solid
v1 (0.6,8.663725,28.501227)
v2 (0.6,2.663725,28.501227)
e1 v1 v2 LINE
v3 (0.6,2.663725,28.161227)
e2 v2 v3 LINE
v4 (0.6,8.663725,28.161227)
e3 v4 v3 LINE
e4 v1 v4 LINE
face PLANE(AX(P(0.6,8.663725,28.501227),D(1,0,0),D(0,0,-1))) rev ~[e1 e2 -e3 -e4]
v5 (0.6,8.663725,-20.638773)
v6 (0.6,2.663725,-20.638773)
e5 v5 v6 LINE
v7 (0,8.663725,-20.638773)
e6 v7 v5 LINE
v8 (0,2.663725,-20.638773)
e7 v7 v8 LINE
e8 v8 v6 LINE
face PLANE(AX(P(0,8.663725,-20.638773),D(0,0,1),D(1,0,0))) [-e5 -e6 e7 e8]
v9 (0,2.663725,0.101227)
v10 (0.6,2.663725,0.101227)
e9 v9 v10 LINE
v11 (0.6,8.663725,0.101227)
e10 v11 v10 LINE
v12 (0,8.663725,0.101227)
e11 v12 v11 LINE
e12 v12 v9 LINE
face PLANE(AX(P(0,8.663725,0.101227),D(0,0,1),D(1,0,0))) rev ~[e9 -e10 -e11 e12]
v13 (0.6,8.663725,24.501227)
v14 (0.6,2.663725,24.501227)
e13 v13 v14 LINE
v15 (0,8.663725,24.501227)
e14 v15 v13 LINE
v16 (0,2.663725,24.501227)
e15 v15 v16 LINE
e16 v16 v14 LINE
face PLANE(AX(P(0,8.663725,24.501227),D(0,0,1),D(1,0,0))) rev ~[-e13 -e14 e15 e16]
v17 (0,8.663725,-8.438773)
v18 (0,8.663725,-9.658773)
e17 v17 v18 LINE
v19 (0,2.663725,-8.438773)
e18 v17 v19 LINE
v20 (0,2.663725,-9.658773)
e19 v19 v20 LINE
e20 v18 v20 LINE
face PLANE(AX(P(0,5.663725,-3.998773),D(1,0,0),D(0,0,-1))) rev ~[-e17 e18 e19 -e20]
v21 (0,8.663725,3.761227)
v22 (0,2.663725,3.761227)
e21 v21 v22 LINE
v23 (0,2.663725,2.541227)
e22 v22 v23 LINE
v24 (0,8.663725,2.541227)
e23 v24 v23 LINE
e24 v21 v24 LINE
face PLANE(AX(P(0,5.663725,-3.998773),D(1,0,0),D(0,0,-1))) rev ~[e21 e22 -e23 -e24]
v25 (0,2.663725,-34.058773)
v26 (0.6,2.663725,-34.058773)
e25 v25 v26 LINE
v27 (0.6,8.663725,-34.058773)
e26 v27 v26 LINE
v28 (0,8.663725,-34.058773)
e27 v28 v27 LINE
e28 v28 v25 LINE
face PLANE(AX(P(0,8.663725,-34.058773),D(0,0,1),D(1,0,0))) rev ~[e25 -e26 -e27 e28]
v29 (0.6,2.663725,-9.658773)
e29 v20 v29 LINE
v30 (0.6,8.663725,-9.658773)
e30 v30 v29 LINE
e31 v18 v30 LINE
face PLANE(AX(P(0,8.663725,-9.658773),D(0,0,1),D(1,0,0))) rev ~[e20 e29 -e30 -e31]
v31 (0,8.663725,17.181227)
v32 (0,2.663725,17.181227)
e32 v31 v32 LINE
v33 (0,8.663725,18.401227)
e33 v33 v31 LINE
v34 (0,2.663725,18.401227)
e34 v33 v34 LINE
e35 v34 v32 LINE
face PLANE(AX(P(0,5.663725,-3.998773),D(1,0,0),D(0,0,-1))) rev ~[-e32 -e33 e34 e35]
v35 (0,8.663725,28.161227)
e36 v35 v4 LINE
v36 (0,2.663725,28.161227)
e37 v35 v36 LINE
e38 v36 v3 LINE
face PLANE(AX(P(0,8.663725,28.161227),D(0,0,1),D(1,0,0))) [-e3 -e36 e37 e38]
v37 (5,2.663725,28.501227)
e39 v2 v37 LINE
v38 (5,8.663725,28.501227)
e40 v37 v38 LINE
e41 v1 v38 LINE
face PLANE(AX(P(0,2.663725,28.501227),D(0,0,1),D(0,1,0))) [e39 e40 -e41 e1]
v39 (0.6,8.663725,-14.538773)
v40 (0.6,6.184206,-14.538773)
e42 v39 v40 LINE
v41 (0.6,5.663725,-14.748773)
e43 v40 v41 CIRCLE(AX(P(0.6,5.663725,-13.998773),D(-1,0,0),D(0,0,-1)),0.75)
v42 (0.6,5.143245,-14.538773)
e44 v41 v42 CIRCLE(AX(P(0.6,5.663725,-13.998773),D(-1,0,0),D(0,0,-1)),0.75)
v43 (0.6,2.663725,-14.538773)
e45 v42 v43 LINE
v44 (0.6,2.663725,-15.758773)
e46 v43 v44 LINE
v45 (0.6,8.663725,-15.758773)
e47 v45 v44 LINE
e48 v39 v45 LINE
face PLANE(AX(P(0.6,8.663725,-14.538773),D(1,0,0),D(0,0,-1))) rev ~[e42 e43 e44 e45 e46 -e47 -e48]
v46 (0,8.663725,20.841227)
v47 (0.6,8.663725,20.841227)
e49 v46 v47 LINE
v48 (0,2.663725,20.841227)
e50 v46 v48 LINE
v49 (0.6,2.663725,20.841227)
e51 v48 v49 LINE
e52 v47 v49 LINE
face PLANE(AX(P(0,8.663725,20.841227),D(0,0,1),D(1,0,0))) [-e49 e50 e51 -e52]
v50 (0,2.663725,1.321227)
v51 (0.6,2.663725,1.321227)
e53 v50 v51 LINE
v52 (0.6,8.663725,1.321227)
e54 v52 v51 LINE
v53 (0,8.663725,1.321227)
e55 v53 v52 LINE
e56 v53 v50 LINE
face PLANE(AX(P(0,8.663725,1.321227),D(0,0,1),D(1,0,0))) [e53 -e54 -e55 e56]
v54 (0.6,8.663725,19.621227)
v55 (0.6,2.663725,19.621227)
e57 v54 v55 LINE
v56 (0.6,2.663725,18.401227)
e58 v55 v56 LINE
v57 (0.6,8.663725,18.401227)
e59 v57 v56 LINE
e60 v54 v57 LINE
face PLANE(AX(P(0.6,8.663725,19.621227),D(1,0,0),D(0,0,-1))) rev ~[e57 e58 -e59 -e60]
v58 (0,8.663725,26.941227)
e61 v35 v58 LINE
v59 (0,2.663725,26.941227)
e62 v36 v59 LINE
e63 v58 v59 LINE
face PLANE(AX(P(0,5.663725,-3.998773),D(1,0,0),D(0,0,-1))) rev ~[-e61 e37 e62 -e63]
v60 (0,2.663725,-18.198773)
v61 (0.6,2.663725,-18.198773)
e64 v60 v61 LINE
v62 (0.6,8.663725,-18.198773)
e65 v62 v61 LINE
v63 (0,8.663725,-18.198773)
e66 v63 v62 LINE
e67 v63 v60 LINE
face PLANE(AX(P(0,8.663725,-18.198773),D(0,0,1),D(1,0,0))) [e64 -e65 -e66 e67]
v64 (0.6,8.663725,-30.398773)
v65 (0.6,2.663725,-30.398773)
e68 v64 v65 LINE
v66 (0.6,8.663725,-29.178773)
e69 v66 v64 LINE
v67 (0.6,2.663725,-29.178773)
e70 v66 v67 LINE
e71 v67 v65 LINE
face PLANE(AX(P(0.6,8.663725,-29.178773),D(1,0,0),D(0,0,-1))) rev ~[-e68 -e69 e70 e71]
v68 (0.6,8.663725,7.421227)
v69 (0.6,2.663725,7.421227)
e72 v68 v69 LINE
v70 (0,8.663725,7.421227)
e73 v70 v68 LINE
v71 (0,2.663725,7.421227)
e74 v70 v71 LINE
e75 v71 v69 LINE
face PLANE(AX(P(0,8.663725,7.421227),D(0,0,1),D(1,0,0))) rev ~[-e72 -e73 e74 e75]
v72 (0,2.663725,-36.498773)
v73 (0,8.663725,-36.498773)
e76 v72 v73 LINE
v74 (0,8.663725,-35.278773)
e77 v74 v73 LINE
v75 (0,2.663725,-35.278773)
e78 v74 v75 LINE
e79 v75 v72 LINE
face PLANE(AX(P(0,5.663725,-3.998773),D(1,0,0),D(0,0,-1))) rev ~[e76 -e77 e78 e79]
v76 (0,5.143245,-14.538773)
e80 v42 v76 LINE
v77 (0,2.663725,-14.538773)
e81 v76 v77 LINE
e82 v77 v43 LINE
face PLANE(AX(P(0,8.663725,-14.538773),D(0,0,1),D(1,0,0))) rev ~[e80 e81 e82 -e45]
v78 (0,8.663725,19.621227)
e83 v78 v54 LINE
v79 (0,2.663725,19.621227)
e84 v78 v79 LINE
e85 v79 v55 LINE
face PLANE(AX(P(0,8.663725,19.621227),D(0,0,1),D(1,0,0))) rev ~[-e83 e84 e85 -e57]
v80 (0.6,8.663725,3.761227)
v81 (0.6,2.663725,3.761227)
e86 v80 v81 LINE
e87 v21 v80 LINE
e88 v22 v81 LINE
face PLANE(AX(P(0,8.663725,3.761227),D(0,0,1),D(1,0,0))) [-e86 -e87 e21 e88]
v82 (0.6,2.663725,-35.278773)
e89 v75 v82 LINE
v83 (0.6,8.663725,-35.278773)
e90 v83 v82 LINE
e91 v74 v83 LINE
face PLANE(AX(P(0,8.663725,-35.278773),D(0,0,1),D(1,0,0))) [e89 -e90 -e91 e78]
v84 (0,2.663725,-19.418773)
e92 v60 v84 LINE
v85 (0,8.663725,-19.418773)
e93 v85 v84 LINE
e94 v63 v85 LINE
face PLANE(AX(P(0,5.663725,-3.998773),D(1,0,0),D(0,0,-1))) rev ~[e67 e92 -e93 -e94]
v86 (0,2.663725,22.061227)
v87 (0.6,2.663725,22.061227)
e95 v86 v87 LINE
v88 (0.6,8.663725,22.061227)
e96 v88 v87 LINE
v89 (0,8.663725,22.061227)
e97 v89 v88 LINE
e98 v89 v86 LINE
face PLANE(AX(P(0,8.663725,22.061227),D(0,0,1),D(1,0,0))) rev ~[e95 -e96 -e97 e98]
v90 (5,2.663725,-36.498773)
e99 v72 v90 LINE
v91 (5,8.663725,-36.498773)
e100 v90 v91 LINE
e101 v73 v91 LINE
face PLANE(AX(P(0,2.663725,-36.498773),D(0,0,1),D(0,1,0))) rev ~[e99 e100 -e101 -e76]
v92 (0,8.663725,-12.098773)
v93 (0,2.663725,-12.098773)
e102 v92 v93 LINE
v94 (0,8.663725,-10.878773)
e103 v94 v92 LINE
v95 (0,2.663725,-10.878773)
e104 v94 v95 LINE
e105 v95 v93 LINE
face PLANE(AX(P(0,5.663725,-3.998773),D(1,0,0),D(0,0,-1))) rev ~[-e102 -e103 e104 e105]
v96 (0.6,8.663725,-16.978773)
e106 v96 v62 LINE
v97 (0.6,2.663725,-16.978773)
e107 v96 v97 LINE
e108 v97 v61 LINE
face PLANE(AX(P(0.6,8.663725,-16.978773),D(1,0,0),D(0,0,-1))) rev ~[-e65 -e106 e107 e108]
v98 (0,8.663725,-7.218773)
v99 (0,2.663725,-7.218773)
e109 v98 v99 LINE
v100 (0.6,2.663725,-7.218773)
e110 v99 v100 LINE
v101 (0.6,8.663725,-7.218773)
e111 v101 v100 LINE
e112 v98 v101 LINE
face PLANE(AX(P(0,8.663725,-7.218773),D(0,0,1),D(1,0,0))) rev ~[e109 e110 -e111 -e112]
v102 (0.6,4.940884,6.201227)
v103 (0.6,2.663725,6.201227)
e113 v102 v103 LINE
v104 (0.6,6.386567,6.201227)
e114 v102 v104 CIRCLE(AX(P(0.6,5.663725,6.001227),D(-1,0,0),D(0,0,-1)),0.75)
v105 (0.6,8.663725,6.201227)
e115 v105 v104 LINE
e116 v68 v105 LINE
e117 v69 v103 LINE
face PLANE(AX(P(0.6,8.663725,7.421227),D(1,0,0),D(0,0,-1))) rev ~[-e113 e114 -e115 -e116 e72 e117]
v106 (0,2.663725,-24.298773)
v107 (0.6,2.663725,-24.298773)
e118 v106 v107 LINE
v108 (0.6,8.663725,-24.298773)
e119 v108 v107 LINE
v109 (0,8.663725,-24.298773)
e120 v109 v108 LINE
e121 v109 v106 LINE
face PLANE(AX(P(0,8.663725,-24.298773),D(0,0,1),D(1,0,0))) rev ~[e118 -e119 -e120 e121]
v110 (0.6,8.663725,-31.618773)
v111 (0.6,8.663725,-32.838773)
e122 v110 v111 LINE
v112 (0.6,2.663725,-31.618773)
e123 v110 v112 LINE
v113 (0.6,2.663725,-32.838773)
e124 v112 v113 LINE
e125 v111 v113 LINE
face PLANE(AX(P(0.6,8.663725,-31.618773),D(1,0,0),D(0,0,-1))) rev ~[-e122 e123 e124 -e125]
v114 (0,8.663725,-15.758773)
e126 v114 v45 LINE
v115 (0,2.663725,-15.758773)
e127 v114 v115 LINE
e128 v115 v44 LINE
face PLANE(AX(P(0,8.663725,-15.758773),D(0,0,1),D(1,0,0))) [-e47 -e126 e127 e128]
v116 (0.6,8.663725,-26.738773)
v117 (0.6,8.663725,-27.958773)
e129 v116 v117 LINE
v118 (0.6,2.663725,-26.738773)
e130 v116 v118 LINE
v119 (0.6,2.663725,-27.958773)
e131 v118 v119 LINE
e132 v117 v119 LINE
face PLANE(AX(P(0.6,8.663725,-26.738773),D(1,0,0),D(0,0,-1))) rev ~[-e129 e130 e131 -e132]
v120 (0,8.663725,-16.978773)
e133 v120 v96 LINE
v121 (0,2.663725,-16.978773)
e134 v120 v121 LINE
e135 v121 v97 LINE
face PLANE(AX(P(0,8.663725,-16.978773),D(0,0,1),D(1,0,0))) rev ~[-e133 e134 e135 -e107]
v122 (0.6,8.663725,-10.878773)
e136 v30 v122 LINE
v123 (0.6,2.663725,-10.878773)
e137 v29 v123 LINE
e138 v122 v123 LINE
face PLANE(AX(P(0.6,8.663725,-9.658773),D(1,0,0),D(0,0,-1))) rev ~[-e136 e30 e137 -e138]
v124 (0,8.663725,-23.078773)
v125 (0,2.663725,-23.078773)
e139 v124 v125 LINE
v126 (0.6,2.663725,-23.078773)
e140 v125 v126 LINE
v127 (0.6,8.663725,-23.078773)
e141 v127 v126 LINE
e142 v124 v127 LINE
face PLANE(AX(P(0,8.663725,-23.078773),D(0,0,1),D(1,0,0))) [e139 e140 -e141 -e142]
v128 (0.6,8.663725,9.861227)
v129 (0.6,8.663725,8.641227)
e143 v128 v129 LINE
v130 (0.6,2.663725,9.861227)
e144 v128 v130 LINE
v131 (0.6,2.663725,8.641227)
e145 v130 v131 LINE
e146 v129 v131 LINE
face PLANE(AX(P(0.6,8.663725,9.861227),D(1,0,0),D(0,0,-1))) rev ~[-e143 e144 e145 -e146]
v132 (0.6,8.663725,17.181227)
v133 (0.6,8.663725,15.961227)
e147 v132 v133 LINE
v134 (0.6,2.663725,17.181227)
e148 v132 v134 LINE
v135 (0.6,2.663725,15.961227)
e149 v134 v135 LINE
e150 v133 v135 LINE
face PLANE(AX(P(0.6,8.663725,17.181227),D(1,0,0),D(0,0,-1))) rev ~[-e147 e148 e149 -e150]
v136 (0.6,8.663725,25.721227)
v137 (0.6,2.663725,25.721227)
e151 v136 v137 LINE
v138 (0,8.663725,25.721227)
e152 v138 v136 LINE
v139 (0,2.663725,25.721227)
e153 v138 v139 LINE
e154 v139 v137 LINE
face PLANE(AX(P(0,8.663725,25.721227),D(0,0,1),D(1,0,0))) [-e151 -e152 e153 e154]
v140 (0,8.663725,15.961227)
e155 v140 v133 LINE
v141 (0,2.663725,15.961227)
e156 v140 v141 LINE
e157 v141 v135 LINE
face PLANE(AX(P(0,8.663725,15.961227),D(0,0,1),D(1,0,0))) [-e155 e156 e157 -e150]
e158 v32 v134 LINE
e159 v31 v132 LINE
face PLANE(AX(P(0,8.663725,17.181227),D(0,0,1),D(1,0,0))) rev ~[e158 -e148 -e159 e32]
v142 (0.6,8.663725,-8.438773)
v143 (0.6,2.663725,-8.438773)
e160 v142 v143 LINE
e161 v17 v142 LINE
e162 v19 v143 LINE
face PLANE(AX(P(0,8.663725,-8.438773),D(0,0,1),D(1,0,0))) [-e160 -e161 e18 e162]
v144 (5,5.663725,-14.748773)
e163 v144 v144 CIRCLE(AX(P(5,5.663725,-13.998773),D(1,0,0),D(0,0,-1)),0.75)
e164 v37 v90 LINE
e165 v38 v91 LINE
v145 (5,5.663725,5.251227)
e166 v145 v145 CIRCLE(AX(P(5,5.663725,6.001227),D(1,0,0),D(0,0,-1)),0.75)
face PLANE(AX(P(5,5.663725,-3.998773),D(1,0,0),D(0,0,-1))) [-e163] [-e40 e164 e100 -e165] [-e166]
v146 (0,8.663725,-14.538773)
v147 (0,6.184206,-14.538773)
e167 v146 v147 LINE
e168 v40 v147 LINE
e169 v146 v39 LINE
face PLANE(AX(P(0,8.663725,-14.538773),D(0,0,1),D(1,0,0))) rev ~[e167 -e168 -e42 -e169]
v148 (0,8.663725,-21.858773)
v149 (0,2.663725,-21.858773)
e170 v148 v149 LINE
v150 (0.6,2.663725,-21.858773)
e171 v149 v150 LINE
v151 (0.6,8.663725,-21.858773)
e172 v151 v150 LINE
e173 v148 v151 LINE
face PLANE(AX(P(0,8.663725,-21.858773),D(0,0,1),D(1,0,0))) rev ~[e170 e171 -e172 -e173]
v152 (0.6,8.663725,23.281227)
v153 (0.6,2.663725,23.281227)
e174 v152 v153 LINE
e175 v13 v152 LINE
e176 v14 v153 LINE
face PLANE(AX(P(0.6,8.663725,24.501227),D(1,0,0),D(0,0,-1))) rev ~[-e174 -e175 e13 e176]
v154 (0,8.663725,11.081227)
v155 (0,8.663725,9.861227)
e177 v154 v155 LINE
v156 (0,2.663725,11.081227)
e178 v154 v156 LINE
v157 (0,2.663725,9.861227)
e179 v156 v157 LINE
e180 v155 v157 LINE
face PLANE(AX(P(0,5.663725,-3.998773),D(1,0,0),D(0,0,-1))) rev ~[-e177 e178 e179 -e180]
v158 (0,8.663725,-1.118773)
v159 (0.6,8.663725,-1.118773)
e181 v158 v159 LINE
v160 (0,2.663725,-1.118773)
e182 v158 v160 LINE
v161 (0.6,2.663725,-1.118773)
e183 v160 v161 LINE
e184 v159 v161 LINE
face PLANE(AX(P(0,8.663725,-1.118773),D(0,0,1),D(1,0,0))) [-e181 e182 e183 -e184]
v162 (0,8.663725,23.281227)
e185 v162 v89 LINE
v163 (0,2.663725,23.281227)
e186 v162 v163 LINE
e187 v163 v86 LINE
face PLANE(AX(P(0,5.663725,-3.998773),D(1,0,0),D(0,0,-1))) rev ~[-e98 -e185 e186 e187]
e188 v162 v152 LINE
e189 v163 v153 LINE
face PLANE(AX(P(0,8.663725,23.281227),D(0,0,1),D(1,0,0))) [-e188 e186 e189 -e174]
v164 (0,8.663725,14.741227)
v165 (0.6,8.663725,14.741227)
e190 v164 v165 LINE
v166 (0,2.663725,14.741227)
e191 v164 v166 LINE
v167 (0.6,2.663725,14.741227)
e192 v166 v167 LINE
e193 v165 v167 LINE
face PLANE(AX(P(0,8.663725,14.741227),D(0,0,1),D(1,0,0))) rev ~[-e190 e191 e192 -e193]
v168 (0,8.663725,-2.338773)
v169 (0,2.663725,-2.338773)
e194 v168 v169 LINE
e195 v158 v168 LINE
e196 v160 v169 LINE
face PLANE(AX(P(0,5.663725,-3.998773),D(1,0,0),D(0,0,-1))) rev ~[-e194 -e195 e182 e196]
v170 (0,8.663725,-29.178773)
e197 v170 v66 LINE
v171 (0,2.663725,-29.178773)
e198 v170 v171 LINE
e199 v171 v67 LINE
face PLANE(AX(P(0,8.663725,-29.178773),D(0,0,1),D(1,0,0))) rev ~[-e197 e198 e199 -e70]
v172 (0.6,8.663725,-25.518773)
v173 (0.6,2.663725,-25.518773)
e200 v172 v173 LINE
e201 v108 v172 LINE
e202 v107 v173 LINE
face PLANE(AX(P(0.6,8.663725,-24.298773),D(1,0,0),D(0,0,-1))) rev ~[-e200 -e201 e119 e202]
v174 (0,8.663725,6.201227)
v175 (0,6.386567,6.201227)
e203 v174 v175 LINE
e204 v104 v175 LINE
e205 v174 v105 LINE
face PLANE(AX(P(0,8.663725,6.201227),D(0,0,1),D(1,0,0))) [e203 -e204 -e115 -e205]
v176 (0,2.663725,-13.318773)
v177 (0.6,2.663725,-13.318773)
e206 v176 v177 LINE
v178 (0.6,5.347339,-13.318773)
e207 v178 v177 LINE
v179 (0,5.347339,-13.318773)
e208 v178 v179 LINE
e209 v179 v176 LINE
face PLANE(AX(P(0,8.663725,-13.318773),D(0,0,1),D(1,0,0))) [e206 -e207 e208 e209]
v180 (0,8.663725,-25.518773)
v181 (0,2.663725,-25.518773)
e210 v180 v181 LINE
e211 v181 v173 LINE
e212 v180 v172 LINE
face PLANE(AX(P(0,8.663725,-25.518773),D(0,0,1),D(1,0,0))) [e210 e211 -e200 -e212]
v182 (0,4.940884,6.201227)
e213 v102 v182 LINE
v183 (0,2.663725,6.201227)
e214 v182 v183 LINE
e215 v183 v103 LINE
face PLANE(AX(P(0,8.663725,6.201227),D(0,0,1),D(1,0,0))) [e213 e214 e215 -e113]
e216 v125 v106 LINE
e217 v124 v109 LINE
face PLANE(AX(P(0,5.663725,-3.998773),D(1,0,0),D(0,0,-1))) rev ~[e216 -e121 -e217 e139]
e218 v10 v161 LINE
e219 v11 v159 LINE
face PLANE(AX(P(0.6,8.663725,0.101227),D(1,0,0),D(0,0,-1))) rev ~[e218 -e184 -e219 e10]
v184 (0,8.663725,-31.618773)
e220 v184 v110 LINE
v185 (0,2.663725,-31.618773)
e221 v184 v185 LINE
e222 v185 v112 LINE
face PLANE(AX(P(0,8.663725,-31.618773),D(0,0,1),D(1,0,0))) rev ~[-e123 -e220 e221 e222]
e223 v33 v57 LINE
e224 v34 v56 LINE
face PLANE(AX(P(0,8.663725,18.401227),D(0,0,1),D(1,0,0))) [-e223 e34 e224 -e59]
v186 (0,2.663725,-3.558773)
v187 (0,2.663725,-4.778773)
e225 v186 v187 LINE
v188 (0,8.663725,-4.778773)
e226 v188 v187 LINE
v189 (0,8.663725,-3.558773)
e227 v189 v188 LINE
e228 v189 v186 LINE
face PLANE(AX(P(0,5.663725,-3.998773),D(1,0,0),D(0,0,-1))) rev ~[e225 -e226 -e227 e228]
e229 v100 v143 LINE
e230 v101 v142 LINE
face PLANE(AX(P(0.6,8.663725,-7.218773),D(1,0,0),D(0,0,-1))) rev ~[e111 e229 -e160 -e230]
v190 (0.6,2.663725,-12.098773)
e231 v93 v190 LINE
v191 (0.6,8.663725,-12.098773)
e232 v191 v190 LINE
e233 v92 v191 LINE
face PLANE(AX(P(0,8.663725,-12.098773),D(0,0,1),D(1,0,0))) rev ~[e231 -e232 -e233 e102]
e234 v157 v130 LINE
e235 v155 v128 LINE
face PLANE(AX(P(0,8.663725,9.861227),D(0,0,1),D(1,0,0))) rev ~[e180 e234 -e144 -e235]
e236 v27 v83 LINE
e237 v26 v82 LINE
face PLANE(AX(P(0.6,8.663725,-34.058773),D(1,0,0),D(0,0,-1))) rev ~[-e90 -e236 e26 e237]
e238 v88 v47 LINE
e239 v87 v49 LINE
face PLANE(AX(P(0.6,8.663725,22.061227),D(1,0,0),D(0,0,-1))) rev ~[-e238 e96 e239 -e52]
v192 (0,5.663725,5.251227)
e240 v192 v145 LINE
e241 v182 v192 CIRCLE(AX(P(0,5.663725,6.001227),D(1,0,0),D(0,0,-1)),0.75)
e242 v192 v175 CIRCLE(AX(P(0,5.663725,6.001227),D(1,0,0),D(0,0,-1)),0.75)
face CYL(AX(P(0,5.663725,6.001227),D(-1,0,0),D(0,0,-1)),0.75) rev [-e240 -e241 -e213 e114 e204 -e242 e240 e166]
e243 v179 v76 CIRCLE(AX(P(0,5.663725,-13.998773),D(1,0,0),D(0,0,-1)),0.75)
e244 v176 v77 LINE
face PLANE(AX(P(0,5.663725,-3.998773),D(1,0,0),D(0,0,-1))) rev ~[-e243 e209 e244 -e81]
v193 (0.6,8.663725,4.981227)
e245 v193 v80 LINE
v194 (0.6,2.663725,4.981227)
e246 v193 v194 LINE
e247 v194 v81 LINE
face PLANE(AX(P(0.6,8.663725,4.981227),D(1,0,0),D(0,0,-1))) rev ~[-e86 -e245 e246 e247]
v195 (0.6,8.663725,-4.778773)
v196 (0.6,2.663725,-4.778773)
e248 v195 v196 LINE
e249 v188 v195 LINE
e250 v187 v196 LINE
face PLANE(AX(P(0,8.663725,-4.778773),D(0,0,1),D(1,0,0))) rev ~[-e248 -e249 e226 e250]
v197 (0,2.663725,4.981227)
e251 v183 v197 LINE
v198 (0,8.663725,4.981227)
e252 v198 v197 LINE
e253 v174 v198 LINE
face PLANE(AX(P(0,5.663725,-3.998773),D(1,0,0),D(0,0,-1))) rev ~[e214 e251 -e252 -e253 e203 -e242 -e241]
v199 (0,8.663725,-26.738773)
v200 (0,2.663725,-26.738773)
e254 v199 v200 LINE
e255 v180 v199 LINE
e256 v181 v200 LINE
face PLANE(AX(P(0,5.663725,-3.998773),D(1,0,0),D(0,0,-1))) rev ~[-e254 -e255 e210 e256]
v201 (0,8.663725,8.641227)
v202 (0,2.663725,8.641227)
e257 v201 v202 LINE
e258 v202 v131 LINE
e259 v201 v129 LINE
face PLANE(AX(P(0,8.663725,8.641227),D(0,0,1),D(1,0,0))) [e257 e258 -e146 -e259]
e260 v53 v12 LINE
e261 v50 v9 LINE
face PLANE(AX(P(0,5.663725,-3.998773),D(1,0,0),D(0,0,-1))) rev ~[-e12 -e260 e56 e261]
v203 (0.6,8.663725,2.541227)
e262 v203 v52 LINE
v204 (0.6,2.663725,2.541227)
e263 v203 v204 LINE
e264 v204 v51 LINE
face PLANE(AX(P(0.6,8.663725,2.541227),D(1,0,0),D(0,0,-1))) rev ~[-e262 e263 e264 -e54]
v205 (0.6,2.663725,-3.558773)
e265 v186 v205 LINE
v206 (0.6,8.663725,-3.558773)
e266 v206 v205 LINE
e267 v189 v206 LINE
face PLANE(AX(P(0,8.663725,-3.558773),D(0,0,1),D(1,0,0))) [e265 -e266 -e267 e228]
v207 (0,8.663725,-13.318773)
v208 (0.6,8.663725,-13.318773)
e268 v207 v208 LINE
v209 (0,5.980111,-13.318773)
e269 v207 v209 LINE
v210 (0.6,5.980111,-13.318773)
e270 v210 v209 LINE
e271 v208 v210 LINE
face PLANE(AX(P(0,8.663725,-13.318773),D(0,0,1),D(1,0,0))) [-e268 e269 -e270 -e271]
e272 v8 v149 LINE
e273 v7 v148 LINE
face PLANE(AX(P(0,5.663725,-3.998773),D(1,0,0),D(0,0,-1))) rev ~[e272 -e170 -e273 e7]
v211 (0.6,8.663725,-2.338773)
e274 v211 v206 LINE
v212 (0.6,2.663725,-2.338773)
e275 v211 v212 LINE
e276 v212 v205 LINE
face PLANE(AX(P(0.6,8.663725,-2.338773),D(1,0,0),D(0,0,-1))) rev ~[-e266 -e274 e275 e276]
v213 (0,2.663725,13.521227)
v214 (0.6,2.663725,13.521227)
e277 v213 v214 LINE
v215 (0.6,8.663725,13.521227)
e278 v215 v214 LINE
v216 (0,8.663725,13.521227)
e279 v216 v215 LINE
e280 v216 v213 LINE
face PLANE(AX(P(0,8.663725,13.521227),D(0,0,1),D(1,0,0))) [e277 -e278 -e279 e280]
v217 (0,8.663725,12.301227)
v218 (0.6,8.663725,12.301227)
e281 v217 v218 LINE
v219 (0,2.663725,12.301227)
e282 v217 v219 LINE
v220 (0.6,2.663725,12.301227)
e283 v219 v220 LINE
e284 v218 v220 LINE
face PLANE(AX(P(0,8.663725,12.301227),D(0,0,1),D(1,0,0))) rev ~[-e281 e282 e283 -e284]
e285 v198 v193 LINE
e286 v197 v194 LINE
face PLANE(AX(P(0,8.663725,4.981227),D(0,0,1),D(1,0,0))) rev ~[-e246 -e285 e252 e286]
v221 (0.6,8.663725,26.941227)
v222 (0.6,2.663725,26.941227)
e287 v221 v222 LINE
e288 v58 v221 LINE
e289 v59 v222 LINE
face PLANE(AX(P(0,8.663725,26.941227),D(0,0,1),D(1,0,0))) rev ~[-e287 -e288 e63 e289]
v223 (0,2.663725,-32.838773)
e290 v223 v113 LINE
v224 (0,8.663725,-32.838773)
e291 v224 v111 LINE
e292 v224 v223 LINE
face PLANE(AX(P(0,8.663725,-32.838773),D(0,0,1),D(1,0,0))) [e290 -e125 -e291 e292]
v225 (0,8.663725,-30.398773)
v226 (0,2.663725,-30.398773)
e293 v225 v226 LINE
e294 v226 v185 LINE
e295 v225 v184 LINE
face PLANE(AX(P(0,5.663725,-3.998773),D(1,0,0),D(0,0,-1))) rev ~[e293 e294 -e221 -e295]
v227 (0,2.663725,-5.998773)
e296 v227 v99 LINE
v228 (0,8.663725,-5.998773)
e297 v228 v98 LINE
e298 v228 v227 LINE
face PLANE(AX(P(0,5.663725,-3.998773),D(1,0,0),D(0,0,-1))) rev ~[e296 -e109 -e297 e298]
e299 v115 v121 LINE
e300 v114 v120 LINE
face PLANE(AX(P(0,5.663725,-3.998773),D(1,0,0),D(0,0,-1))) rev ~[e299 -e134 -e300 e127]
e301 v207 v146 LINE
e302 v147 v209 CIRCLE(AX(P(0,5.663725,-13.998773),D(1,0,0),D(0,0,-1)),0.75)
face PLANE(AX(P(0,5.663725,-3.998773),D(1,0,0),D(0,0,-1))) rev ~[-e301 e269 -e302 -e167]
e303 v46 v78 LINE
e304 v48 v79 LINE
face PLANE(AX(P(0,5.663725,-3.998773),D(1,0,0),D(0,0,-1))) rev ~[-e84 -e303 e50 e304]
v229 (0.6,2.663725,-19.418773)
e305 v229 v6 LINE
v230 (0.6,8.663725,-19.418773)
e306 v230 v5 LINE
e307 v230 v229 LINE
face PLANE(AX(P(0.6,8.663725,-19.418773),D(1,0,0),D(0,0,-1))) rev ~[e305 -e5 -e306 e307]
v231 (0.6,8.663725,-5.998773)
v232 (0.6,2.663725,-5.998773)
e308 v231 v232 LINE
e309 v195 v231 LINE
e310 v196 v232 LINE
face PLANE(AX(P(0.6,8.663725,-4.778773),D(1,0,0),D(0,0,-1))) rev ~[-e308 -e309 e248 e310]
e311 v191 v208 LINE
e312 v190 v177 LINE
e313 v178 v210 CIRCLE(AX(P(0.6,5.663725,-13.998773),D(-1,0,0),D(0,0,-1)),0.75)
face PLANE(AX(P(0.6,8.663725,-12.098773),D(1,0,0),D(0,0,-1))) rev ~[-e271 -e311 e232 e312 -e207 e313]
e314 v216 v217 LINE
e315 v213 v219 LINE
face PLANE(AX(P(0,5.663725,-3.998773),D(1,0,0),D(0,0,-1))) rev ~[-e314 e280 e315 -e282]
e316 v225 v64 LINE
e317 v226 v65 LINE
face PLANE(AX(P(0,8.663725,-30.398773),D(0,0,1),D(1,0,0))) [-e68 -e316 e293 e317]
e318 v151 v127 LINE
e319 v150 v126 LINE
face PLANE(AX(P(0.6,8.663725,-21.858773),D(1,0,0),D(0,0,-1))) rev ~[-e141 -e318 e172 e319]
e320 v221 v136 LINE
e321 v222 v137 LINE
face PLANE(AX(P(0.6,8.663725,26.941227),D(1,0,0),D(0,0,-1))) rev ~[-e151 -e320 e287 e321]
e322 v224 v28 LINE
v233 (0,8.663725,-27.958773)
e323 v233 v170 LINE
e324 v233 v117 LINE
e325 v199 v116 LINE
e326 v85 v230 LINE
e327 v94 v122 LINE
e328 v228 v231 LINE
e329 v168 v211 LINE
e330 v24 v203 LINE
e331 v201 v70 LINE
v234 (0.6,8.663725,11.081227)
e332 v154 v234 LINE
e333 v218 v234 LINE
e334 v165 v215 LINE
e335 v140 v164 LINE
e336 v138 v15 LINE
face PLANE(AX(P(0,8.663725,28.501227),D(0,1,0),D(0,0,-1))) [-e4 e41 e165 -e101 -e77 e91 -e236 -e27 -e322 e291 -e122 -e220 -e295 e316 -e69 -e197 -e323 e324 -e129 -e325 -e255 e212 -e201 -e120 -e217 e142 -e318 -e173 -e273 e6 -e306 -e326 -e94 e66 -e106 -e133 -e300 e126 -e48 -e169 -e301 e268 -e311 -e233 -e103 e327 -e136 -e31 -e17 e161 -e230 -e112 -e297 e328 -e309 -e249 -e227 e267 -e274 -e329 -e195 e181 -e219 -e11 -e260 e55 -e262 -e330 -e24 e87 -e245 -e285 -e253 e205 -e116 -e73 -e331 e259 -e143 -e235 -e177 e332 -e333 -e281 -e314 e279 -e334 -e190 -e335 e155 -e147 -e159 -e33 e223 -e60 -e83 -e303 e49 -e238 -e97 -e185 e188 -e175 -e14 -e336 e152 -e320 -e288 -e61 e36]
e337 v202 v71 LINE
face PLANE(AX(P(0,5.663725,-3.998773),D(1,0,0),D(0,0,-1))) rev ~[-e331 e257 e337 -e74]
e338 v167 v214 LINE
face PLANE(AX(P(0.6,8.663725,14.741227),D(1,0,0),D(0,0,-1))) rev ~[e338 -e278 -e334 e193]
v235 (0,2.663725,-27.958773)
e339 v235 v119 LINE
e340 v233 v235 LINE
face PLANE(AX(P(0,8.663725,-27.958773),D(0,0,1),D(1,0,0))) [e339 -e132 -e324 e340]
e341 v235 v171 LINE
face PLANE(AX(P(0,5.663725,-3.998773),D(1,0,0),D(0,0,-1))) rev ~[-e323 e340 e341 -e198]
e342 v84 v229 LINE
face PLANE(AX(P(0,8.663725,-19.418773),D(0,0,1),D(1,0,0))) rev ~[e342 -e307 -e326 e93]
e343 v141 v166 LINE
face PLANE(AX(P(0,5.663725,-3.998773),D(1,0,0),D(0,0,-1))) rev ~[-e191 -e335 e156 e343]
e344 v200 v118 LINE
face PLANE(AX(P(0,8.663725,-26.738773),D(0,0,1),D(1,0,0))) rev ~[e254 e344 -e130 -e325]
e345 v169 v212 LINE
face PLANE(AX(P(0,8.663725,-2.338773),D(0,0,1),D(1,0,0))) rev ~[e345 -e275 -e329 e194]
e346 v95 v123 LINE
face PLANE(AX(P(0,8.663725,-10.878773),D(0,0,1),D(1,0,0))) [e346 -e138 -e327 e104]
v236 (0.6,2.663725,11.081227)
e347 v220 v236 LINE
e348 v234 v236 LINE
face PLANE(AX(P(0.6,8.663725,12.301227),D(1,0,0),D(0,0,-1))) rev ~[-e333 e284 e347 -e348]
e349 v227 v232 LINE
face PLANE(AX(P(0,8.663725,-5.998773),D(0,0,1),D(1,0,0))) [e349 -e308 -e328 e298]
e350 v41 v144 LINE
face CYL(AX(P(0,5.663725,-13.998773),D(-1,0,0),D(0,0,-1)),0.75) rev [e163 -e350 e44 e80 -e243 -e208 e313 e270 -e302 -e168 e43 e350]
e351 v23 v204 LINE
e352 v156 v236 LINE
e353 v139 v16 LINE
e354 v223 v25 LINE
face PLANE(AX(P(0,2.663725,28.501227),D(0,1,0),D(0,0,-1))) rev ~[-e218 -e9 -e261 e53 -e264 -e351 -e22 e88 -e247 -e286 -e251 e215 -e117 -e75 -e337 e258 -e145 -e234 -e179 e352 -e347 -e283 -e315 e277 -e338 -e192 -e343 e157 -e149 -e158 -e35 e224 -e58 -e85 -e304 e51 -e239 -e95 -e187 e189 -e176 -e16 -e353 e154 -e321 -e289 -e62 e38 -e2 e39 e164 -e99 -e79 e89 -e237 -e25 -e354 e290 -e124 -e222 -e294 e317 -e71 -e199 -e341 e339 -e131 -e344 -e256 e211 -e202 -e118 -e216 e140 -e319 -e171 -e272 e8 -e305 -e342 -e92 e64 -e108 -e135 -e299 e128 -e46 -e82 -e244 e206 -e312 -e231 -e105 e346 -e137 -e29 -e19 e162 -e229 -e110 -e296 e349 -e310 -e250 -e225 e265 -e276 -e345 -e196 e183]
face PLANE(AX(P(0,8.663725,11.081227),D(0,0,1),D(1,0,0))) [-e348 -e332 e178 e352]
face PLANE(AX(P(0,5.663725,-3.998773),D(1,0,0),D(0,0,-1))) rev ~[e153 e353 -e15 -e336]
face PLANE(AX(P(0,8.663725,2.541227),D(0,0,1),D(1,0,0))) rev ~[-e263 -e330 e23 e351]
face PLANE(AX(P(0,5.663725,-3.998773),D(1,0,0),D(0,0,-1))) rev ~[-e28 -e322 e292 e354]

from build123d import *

# Parameters (mm, degrees)
SKETCH_1_W          = 65
SKETCH_1_H          = 6
SKETCH_1_R          = 0.75
EXTRUDE_1_DEPTH     = 5
CUT_EXTRUDE_1_DEPTH = 15


with BuildPart() as part:
    # Эскиз1 → Бобышка-Вытянуть1 (new body)
    with BuildSketch(Plane(origin=(0, 0, 0), x_dir=(0, 0, -1), z_dir=(1, 0, 0))):
        with Locations((3.998772772, 5.663725322)):
            Rectangle(SKETCH_1_W, SKETCH_1_H)
        with Locations((-6.001227228, 5.663725322)):
            Circle(SKETCH_1_R, mode=Mode.SUBTRACT)
        with Locations((13.998772772, 5.663725322)):
            Circle(SKETCH_1_R, mode=Mode.SUBTRACT)
    extrude(amount=EXTRUDE_1_DEPTH)

    # Эскиз2 → Вырез-Вытянуть1 (cut)
    with BuildSketch(Plane(origin=(0, 8.663725322, 0), x_dir=(1, 0, 0), z_dir=(0, 1, 0))):
        Polygon((0, 35.278772772), (0, 36.498772772), (-0.186026499, 36.498772772), (-0.186026499, -29.381227228), (0.6, -29.381227228), (0.6, -28.161227228), (0, -28.161227228), (0, -26.941227228), (0.6, -26.941227228), (0.6, -25.721227228), (0, -25.721227228), (0, -24.501227228), (0.6, -24.501227228), (0.6, -23.281227228), (0, -23.281227228), (0, -22.061227228), (0.6, -22.061227228), (0.6, -20.841227228), (0, -20.841227228), (0, -19.621227228), (0.6, -19.621227228), (0.6, -18.401227228), (0, -18.401227228), (0, -17.181227228), (0.6, -17.181227228), (0.6, -15.961227228), (0, -15.961227228), (0, -14.741227228), (0.6, -14.741227228), (0.6, -13.521227228), (0, -13.521227228), (0, -12.301227228), (0.6, -12.301227228), (0.6, -11.081227228), (0, -11.081227228), (0, -9.861227228), (0.6, -9.861227228), (0.6, -8.641227228), (0, -8.641227228), (0, -7.421227228), (0.6, -7.421227228), (0.6, -6.201227228), (0, -6.201227228), (0, -4.981227228), (0.6, -4.981227228), (0.6, -3.761227228), (0, -3.761227228), (0, -2.541227228), (0.6, -2.541227228), (0.6, -1.321227228), (0, -1.321227228), (0, -0.101227228), (0.6, -0.101227228), (0.6, 1.118772772), (0, 1.118772772), (0, 2.338772772), (0.6, 2.338772772), (0.6, 3.558772772), (0, 3.558772772), (0, 4.778772772), (0.6, 4.778772772), (0.6, 5.998772772), (0, 5.998772772), (0, 7.218772772), (0.6, 7.218772772), (0.6, 8.438772772), (0, 8.438772772), (0, 9.658772772), (0.6, 9.658772772), (0.6, 10.878772772), (0, 10.878772772), (0, 12.098772772), (0.6, 12.098772772), (0.6, 13.318772772), (0, 13.318772772), (0, 14.538772772), (0.6, 14.538772772), (0.6, 15.758772772), (0, 15.758772772), (0, 16.978772772), (0.6, 16.978772772), (0.6, 18.198772772), (0, 18.198772772), (0, 19.418772772), (0.6, 19.418772772), (0.6, 20.638772772), (0, 20.638772772), (0, 21.858772772), (0.6, 21.858772772), (0.6, 23.078772772), (0, 23.078772772), (0, 24.298772772), (0.6, 24.298772772), (0.6, 25.518772772), (0, 25.518772772), (0, 26.738772772), (0.6, 26.738772772), (0.6, 27.958772772), (0, 27.958772772), (0, 29.178772772), (0.6, 29.178772772), (0.6, 30.398772772), (0, 30.398772772), (0, 31.618772772), (0.6, 31.618772772), (0.6, 32.838772772), (0, 32.838772772), (0, 34.058772772), (0.6, 34.058772772), (0.6, 35.278772772), align=None)
    extrude(amount=-CUT_EXTRUDE_1_DEPTH, mode=Mode.SUBTRACT)


solid = part.part
